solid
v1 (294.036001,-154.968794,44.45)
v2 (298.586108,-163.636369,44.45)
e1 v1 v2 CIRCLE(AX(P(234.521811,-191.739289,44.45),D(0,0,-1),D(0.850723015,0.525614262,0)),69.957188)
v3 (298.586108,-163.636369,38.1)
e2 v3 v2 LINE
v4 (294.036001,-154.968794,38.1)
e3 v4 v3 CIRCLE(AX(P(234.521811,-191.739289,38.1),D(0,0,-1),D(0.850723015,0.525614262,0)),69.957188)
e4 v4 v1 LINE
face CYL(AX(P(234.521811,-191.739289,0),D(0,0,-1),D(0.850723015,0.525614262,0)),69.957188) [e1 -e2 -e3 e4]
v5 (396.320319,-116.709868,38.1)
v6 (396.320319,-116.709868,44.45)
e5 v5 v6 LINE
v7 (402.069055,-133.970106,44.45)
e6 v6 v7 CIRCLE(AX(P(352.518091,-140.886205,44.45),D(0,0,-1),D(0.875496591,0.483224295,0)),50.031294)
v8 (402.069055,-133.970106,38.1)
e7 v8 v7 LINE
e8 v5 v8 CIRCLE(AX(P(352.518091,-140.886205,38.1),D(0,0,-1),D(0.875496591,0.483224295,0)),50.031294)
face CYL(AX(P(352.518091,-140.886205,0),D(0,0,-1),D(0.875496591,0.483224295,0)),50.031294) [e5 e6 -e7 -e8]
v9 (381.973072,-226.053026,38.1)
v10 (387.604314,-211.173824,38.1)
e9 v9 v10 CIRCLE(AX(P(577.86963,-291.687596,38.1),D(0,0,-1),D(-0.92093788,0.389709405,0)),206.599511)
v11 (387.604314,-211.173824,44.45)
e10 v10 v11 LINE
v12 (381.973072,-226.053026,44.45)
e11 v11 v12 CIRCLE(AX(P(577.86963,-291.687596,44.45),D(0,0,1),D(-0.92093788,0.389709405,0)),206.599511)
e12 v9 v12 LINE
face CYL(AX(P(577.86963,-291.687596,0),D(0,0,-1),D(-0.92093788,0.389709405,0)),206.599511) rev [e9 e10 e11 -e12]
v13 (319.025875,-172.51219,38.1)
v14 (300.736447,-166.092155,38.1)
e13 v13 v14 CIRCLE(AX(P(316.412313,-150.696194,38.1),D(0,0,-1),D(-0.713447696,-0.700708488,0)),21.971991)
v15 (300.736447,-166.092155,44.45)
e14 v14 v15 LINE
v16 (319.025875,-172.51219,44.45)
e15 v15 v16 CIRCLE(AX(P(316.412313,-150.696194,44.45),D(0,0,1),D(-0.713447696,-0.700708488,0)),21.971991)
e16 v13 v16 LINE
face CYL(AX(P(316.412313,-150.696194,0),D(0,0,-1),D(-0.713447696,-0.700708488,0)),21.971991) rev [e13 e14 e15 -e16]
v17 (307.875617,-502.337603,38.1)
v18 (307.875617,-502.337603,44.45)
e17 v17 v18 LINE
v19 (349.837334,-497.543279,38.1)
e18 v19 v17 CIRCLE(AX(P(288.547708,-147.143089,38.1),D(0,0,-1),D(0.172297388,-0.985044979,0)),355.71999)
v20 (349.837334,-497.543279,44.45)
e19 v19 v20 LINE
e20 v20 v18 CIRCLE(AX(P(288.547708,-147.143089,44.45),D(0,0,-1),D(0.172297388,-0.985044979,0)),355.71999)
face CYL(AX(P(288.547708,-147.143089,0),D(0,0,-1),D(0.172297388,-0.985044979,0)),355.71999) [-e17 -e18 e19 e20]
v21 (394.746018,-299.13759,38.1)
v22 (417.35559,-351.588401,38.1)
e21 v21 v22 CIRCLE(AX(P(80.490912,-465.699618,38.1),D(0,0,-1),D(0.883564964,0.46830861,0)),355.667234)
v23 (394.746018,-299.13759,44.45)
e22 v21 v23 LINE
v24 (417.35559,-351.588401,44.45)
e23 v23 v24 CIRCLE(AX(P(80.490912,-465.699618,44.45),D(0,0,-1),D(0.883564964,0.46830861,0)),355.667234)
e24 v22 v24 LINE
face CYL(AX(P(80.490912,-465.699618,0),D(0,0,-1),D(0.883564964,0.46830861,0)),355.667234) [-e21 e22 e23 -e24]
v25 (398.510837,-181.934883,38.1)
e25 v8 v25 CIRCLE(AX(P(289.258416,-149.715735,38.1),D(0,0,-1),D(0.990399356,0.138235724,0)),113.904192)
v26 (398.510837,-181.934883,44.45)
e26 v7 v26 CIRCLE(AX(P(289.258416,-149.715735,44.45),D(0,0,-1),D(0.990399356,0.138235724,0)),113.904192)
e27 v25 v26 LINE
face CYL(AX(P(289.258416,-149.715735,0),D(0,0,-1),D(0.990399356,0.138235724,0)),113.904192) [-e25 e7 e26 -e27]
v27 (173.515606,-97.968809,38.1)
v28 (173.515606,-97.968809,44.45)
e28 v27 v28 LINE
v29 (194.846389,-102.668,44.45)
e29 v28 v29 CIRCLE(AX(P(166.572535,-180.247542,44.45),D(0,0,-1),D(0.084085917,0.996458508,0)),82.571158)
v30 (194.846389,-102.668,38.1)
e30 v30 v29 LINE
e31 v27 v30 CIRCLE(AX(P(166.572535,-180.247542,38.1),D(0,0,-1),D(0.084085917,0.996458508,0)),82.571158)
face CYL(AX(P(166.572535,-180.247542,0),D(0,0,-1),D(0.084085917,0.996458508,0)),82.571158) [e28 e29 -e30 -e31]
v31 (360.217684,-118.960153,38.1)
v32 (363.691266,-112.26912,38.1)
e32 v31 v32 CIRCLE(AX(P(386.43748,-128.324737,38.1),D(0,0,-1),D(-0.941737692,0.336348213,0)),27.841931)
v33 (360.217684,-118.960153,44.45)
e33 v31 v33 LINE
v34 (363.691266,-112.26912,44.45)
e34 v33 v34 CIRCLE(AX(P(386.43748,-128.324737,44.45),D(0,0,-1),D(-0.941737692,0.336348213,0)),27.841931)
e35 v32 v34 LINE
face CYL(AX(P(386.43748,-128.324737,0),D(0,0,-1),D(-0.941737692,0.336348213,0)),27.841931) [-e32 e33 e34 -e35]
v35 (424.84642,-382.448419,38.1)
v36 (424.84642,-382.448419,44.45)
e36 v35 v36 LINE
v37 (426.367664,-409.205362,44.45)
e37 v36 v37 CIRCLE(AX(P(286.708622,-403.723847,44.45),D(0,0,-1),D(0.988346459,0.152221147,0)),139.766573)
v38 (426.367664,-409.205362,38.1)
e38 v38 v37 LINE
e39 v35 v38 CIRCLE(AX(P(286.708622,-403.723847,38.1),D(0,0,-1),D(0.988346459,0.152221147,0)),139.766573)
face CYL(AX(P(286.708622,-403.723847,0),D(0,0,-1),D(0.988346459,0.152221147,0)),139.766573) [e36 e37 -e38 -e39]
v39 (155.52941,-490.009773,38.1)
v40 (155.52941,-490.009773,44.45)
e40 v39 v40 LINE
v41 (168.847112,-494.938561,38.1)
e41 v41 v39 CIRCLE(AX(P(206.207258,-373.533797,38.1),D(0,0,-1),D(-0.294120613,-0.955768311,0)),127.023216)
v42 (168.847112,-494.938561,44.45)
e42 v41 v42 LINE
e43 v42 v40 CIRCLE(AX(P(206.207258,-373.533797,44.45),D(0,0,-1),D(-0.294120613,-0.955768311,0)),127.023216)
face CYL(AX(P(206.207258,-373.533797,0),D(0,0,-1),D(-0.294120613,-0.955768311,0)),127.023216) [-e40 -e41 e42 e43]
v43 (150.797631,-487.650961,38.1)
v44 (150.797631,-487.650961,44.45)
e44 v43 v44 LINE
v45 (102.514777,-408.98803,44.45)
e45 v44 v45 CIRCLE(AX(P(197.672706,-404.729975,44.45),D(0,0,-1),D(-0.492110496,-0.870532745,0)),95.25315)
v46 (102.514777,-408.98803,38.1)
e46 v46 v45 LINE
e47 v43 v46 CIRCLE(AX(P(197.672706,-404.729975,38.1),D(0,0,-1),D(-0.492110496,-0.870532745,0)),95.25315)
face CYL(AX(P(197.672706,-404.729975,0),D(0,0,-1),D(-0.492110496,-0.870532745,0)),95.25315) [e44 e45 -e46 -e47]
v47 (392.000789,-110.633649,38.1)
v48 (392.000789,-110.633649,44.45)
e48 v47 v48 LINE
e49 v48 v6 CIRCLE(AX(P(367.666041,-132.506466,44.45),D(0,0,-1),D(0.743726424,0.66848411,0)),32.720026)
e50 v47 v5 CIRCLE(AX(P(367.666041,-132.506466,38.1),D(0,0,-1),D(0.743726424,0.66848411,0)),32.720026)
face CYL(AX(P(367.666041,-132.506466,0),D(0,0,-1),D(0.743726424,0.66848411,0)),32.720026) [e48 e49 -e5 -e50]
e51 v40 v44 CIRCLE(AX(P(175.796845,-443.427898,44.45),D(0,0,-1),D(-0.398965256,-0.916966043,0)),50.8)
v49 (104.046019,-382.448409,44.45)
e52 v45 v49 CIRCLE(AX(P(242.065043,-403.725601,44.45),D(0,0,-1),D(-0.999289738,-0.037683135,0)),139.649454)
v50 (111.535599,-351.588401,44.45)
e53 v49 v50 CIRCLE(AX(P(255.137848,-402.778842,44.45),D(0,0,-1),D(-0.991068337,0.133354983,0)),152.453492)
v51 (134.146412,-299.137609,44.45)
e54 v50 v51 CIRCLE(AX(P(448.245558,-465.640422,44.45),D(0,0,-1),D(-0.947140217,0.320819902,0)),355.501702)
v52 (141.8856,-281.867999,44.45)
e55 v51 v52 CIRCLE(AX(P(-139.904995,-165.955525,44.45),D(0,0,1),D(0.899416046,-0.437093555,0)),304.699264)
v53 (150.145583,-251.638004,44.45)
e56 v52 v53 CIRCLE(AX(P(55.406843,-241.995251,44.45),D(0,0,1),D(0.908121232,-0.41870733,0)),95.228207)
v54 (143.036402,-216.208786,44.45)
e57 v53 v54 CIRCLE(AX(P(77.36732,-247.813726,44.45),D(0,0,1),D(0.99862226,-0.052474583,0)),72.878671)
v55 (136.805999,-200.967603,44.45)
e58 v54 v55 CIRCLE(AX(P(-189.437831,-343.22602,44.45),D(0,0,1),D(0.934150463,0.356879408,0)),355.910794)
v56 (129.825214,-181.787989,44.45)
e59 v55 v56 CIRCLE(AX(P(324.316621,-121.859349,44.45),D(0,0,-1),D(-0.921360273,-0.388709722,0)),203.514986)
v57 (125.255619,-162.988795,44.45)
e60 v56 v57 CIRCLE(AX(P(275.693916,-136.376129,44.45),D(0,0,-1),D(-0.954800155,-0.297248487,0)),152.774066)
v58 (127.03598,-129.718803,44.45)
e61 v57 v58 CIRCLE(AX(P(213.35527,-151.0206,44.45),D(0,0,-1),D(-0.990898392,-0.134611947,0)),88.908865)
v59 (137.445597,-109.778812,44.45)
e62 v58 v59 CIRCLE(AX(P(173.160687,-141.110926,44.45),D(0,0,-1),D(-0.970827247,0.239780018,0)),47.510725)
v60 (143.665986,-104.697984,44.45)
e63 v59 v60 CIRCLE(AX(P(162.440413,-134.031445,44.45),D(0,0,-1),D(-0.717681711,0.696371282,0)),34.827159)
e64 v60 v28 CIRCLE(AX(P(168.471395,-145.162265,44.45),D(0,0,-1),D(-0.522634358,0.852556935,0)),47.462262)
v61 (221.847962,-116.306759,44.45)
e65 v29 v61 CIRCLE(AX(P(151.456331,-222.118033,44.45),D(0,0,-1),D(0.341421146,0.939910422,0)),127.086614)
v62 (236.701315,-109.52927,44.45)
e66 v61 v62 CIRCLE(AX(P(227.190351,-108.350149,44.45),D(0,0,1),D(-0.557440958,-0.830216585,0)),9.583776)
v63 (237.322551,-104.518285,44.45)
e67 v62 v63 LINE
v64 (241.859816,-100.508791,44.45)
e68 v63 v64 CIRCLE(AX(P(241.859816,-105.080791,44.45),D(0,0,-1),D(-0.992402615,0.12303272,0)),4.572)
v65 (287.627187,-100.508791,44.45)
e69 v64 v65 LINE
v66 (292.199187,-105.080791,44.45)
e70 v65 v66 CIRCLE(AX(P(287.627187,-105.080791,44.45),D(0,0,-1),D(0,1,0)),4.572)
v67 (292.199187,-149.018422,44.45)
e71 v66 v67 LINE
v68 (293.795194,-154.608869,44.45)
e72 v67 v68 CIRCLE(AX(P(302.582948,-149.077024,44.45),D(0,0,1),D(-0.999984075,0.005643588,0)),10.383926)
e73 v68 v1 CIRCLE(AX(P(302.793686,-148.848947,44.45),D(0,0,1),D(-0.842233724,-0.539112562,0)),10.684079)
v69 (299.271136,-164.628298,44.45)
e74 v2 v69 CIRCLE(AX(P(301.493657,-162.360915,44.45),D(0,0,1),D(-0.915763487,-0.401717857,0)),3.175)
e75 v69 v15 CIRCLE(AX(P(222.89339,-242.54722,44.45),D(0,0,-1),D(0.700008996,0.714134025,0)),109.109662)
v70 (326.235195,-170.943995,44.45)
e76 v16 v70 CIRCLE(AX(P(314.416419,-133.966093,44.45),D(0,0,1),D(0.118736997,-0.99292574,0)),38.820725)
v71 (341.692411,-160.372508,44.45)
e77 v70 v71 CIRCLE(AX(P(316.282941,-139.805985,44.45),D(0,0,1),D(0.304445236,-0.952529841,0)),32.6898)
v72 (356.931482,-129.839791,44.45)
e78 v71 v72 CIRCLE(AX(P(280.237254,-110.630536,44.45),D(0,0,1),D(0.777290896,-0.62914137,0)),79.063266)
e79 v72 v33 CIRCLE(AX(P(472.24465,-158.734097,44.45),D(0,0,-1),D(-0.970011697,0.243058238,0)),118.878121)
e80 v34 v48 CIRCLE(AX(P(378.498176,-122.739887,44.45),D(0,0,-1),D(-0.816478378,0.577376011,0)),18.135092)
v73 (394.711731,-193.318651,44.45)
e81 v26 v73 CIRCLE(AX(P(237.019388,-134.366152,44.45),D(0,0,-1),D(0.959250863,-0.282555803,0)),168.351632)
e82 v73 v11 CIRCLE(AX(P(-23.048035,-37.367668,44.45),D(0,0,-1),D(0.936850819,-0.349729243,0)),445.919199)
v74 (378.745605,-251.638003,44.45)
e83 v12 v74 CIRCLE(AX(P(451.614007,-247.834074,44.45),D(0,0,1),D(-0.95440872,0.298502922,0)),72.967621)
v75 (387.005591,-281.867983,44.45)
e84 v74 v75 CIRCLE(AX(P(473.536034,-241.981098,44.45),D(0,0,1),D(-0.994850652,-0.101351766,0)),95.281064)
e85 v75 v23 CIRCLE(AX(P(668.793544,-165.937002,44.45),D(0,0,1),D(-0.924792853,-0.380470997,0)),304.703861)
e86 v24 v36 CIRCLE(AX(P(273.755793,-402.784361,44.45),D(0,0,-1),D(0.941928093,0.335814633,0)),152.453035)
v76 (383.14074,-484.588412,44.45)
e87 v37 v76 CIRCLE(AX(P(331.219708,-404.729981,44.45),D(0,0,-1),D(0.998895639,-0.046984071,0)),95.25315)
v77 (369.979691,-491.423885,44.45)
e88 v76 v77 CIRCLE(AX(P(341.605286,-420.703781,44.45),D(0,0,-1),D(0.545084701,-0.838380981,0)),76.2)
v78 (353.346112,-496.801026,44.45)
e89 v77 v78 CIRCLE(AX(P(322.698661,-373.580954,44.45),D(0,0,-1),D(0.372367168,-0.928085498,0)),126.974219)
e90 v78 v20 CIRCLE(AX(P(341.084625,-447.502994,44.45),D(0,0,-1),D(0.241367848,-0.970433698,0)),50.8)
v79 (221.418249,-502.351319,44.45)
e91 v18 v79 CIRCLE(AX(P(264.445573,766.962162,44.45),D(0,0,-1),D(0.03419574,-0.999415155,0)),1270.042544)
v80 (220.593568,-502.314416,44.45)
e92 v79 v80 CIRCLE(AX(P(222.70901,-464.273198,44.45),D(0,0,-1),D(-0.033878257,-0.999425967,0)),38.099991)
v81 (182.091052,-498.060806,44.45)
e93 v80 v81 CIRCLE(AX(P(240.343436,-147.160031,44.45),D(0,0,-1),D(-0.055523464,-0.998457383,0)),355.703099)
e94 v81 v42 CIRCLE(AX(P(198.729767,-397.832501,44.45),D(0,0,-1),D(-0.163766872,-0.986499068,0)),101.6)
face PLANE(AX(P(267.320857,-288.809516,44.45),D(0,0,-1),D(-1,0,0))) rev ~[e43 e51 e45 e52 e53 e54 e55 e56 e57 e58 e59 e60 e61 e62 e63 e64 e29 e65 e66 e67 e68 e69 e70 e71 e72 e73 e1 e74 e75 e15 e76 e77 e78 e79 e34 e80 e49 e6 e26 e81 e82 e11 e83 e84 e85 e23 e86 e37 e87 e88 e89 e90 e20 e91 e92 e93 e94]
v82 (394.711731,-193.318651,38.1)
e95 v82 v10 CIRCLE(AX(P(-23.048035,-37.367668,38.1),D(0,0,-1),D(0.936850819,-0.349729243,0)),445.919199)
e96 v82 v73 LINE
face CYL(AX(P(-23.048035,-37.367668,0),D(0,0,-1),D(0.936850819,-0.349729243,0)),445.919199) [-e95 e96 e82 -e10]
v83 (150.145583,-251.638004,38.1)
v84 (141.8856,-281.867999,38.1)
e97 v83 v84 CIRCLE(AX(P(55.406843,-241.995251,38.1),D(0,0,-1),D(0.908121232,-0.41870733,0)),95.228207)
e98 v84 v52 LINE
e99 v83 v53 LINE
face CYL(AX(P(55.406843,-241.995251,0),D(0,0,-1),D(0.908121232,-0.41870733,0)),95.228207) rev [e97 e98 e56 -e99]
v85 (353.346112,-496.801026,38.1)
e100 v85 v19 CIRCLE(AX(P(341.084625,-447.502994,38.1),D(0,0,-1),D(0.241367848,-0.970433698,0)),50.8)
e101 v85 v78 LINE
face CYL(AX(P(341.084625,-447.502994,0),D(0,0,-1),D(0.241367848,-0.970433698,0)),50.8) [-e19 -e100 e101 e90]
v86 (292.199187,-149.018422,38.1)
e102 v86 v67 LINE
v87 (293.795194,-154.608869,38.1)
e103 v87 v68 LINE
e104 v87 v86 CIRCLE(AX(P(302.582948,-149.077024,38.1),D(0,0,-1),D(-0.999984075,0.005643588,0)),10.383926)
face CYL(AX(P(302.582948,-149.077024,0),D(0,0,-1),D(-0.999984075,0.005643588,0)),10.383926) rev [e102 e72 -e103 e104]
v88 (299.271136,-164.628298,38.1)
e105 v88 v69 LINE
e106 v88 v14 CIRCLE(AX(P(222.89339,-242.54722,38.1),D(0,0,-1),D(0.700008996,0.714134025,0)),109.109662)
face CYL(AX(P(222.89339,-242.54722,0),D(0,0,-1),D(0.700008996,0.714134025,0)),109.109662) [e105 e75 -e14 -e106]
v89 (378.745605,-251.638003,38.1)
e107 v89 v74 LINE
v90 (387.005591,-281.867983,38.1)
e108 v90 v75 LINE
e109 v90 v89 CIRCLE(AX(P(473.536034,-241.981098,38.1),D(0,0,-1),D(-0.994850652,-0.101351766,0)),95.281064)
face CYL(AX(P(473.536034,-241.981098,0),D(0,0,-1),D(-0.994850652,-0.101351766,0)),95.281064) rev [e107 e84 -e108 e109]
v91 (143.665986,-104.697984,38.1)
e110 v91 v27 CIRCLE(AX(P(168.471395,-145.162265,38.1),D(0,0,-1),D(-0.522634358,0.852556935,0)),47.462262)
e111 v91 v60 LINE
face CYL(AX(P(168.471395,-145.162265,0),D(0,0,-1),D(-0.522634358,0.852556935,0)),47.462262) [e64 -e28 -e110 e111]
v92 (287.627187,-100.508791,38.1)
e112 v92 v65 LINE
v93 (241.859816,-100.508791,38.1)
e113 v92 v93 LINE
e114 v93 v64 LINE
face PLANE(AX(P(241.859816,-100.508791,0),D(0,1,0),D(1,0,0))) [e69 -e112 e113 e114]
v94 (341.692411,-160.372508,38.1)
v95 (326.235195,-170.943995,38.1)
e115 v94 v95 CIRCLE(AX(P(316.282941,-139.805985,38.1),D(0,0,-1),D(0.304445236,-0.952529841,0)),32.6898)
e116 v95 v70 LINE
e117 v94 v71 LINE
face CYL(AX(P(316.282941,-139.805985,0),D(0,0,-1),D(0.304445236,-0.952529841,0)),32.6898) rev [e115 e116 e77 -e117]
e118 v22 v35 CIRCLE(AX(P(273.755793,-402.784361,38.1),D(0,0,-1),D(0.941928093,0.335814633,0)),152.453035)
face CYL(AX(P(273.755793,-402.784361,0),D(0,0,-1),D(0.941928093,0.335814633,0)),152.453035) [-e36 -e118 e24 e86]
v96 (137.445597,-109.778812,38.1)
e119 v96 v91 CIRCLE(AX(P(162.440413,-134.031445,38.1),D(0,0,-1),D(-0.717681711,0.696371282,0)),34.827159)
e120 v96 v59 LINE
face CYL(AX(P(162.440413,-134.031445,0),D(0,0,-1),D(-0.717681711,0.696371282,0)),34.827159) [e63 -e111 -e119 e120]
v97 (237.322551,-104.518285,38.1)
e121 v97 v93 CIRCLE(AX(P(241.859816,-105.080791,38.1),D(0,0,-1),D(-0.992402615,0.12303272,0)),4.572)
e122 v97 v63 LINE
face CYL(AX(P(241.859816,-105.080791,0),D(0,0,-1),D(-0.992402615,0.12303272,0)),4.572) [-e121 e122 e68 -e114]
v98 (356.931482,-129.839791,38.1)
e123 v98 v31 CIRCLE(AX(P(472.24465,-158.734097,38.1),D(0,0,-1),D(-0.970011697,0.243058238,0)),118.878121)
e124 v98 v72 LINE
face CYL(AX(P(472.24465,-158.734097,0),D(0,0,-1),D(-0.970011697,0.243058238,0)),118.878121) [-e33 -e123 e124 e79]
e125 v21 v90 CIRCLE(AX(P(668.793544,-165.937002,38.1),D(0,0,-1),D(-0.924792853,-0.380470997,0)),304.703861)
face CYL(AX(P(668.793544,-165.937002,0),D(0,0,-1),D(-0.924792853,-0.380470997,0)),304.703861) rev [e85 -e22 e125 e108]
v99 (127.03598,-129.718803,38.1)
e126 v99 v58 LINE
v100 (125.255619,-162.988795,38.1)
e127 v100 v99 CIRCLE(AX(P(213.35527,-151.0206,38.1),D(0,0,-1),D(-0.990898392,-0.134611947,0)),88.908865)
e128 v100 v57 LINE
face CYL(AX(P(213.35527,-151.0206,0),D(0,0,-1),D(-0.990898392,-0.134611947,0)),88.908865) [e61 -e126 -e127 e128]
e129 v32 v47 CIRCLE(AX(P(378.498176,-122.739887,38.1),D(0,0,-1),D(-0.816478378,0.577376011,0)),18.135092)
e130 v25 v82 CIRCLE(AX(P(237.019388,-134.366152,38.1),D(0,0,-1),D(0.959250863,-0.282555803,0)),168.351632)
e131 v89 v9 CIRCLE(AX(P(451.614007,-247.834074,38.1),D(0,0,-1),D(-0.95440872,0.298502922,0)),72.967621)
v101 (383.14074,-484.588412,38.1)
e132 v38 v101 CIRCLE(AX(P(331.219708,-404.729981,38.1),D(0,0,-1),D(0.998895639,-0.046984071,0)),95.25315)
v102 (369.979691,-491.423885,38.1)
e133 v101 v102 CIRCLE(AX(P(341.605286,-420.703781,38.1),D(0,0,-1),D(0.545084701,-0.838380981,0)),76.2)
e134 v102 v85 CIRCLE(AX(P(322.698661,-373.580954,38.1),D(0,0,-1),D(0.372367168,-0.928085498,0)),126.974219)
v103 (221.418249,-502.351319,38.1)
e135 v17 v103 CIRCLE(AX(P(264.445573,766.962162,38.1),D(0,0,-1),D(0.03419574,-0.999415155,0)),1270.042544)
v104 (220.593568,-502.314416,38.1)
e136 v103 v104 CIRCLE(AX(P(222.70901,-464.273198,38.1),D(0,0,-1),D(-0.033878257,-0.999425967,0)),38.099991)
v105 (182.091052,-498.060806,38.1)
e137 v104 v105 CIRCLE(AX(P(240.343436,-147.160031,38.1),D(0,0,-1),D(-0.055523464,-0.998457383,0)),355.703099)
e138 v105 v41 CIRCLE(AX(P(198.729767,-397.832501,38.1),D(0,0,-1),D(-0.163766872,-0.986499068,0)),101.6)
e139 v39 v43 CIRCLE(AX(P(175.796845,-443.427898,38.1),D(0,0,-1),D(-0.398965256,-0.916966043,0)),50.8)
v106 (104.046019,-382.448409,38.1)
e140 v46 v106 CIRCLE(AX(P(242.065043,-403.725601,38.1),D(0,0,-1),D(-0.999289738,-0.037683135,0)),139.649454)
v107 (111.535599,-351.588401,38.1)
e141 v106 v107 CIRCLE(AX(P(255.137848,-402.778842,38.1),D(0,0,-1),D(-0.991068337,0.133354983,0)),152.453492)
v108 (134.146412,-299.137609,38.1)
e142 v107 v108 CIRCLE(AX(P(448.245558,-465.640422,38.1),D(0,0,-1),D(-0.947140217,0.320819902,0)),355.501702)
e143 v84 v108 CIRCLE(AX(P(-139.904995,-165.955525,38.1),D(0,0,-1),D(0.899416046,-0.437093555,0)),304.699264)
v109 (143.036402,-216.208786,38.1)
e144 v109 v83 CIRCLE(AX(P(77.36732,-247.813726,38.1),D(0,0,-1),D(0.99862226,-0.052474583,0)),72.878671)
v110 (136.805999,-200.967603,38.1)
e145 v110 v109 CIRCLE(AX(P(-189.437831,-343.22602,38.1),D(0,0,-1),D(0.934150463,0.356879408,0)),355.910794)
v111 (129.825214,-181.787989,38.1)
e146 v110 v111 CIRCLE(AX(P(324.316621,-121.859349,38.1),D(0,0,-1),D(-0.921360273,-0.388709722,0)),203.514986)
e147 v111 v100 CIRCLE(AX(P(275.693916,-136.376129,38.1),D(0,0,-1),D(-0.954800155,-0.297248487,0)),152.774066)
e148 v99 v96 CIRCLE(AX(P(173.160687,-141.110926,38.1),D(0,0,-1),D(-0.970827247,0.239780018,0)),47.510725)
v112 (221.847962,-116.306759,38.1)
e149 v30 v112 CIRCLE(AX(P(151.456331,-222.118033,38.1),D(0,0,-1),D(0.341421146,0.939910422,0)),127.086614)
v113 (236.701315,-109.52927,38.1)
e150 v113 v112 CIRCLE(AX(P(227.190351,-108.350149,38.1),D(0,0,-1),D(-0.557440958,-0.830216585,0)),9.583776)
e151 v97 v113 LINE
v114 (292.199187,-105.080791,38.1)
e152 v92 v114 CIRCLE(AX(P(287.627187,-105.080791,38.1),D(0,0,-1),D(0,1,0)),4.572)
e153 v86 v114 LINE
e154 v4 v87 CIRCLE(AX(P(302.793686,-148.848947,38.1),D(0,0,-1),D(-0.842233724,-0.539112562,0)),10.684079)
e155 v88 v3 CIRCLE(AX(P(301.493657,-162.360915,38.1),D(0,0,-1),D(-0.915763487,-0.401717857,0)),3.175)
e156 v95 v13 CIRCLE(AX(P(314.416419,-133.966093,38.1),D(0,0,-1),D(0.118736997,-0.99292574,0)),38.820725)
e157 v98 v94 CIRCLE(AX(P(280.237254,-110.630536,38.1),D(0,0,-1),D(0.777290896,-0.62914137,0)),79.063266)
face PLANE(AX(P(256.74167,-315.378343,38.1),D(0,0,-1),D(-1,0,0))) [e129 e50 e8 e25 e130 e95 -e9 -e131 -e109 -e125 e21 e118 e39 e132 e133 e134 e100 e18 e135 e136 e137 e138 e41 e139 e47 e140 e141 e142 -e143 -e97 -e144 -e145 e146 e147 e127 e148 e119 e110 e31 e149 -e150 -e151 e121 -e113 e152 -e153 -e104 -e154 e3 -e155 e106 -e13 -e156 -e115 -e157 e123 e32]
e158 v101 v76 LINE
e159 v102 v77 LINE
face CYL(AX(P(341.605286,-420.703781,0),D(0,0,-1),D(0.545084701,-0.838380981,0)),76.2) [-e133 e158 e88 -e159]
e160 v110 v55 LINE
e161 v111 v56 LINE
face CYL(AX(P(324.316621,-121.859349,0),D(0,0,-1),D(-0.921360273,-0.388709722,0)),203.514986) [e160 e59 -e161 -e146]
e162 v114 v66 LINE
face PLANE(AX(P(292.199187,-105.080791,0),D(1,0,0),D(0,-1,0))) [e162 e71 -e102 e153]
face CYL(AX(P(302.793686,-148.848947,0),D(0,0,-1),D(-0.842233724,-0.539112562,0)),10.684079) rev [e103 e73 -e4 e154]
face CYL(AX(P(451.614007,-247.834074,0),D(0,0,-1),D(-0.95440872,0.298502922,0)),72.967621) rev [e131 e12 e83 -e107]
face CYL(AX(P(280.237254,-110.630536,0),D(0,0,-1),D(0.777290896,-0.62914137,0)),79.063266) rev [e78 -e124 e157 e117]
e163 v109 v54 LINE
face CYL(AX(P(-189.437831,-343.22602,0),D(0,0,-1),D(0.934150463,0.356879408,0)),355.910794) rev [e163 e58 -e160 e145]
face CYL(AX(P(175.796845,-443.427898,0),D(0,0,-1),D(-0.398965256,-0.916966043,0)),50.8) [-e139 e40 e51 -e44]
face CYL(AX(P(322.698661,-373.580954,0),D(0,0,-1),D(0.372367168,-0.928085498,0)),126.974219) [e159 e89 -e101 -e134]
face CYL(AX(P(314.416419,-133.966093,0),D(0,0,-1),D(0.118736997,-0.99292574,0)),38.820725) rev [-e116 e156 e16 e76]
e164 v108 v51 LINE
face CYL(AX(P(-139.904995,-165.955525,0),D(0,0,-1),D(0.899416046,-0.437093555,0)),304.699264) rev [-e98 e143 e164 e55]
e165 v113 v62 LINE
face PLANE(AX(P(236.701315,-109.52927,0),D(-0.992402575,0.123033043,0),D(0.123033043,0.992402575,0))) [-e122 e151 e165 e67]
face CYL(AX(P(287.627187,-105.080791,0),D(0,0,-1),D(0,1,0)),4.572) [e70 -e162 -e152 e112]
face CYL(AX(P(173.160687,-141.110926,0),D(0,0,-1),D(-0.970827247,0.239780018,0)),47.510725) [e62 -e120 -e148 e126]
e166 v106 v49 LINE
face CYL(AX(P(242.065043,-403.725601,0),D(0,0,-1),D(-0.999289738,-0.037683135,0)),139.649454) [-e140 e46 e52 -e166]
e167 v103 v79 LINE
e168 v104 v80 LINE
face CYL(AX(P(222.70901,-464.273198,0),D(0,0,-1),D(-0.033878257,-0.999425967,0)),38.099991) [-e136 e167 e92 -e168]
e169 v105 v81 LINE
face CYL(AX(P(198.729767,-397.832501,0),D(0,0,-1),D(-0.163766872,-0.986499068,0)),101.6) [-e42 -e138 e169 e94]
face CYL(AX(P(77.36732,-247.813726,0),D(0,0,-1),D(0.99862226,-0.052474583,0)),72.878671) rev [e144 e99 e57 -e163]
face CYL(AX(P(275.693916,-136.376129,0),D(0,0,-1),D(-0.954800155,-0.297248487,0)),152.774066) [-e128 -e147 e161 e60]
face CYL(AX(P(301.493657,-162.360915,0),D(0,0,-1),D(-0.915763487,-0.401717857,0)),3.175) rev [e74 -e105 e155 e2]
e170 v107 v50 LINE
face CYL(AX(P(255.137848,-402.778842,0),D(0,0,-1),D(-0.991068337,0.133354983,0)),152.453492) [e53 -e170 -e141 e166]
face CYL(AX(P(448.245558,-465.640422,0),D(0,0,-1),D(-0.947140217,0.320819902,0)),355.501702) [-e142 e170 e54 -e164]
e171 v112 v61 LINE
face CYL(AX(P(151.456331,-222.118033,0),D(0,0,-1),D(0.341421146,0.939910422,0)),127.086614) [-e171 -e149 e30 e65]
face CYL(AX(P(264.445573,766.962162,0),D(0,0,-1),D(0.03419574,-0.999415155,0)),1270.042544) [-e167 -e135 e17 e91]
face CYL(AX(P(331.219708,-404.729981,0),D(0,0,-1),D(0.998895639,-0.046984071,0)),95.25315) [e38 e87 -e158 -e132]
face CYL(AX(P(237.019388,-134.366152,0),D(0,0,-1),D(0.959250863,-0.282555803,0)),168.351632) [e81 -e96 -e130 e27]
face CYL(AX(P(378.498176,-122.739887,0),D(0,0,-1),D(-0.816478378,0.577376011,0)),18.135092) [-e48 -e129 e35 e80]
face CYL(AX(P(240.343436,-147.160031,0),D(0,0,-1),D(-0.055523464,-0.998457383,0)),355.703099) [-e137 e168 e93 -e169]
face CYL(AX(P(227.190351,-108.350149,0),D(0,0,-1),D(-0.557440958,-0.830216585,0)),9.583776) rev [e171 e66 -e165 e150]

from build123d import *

# Parameters (mm, degrees)
EXTRUDE1_DEPTH     = 44.45
SKETCH8_W          = 820.295635457
SKETCH8_H          = 609.826953774
CUT_EXTRUDE1_DEPTH = 38.1


with BuildPart() as part:
    # Sketch2 → Extrude1 (new body)
    with BuildSketch(Plane.XY):
        with BuildLine():
            Line((236.701314765, -109.52926958), (237.322551245, -104.518285004))
            ThreePointArc((237.322551245, -104.518285004), (238.832324595, -101.654790046), (241.859816, -100.5087906))
            Line((241.859816, -100.5087906), (287.627187, -100.5087906))
            ThreePointArc((287.627187, -100.5087906), (290.860079204, -101.847898396), (292.199187, -105.0807906))
            Line((292.199187, -105.0807906), (292.199187, -149.0184218))
            ThreePointArc((292.199187, -149.0184218), (292.597958053, -151.927621282), (293.795193618, -154.608868562))
            ThreePointArc((293.795193618, -154.608868562), (293.913773723, -154.790051229), (294.036001367, -154.968793512))
            ThreePointArc((294.036001367, -154.968793512), (296.462850079, -159.222895043), (298.58610753, -163.636368995))
            ThreePointArc((298.58610753, -163.636368995), (298.881112709, -164.165143005), (299.271135507, -164.628297651))
            ThreePointArc((299.271135507, -164.628297651), (300.007264707, -165.356749106), (300.73644663, -166.092154739))
            ThreePointArc((300.73644663, -166.092154739), (309.134939866, -171.428010927), (319.025875401, -172.512189948))
            ThreePointArc((319.025875401, -172.512189948), (322.667874381, -171.899747758), (326.235195219, -170.94399463))
            ThreePointArc((326.235195219, -170.94399463), (334.736991182, -166.788776714), (341.69241097, -160.372507853))
            ThreePointArc((341.69241097, -160.372507853), (350.978860141, -145.938116384), (356.931481894, -129.839790708))
            ThreePointArc((356.931481894, -129.839790708), (358.444492908, -124.360678247), (360.217684146, -118.960153409))
            ThreePointArc((360.217684146, -118.960153409), (361.726955491, -115.496522091), (363.691265694, -112.269119525))
            ThreePointArc((363.691265694, -112.269119525), (377.452236791, -104.634981944), (392.000789341, -110.63364853))
            ThreePointArc((392.000789341, -110.63364853), (394.334174265, -113.548333419), (396.320318679, -116.709868421))
            ThreePointArc((396.320318679, -116.709868421), (399.985801408, -125.076496738), (402.069054575, -133.970106202))
            ThreePointArc((402.069054575, -133.970106202), (402.850473596, -158.142444635), (398.510836922, -181.934882814))
            ThreePointArc((398.510836922, -181.934882814), (396.712752953, -187.660630305), (394.711731045, -193.318651304))
            ThreePointArc((394.711731045, -193.318651304), (391.254221541, -202.284530505), (387.604313736, -211.173823775))
            ThreePointArc((387.604313736, -211.173823775), (384.645418623, -218.559200445), (381.97307243, -226.053025547))
            ThreePointArc((381.97307243, -226.053025547), (379.220115758, -238.701804496), (378.745605361, -251.638002516))
            ThreePointArc((378.745605361, -251.638002516), (381.624241727, -267.094911335), (387.005590994, -281.867983379))
            ThreePointArc((387.005590994, -281.867983379), (390.741696955, -290.562895178), (394.746018404, -299.137589848))
            ThreePointArc((394.746018404, -299.137589848), (407.105387056, -324.908404556), (417.355590006, -351.588401252))
            ThreePointArc((417.355590006, -351.588401252), (421.906718125, -366.822834456), (424.846419648, -382.448418515))
            ThreePointArc((424.846419648, -382.448418515), (426.249850723, -395.79034395), (426.367663828, -409.205362144))
            ThreePointArc((426.367663828, -409.205362144), (413.851256788, -452.11341389), (383.140740026, -484.58841212))
            ThreePointArc((383.140740026, -484.58841212), (376.726903694, -488.327090669), (369.979691238, -491.423885444))
            ThreePointArc((369.979691238, -491.423885444), (361.755548517, -494.399048058), (353.346112162, -496.801025635))
            ThreePointArc((353.346112162, -496.801025635), (351.598275163, -497.203126282), (349.837333504, -497.543278577))
            ThreePointArc((349.837333504, -497.543278577), (328.927692137, -500.563756073), (307.875617353, -502.337603226))
            ThreePointArc((307.875617353, -502.337603226), (264.647049723, -503.080365686), (221.41824861, -502.351318606))
            ThreePointArc((221.41824861, -502.351318606), (221.00580821, -502.335100706), (220.593567708, -502.314415619))
            ThreePointArc((220.593567708, -502.314415619), (201.284363819, -500.712124888), (182.091052494, -498.06080619))
            ThreePointArc((182.091052494, -498.06080619), (175.416754512, -496.721648206), (168.847112314, -494.938561263))
            ThreePointArc((168.847112314, -494.938561263), (162.119330737, -492.66041844), (155.529409804, -490.009772905))
            ThreePointArc((155.529409804, -490.009772905), (153.132812394, -488.891967619), (150.797631292, -487.650961163))
            ThreePointArc((150.797631292, -487.650961163), (116.491995751, -454.558228352), (102.514776867, -408.988030339))
            ThreePointArc((102.514776867, -408.988030339), (102.647448667, -395.681700976), (104.046018753, -382.448409448))
            ThreePointArc((104.046018753, -382.448409448), (106.98510575, -366.822864688), (111.535598588, -351.588400588))
            ThreePointArc((111.535598588, -351.588400588), (121.785921274, -324.908172846), (134.146411655, -299.137609307))
            ThreePointArc((134.146411655, -299.137609307), (138.150111982, -290.562902597), (141.885599861, -281.867999389))
            ThreePointArc((141.885599861, -281.867999389), (147.267652973, -267.095112393), (150.145582523, -251.638003757))
            ThreePointArc((150.145582523, -251.638003757), (148.821670426, -233.475790137), (143.036402463, -216.208786303))
            ThreePointArc((143.036402463, -216.208786303), (140.009349985, -208.5521602), (136.805998568, -200.967602883))
            ThreePointArc((136.805998568, -200.967602883), (133.075014503, -191.465363775), (129.82521382, -181.787988837))
            ThreePointArc((129.82521382, -181.787988837), (127.242537041, -172.460798588), (125.255618654, -162.988794966))
            ThreePointArc((125.255618654, -162.988794966), (124.573431659, -146.269657735), (127.035980496, -129.718803313))
            ThreePointArc((127.035980496, -129.718803313), (131.043720455, -119.123881134), (137.44559748, -109.77881152))
            ThreePointArc((137.44559748, -109.77881152), (140.408836969, -107.058482812), (143.665986338, -104.697984023))
            ThreePointArc((143.665986338, -104.697984023), (158.033642326, -98.861944673), (173.515606109, -97.968809036))
            ThreePointArc((173.515606109, -97.968809036), (184.337065562, -99.609972723), (194.84638863, -102.668000127))
            ThreePointArc((194.84638863, -102.668000127), (208.754429598, -108.681110615), (221.847962027, -116.306758775))
            ThreePointArc((221.847962027, -116.306758775), (231.168773326, -117.069146469), (236.701314765, -109.52926958))
        make_face()
    extrude(amount=EXTRUDE1_DEPTH)

    # Sketch8 → Cut-Extrude1 (cut)
    with BuildSketch(Plane(origin=(0, 0, 0), x_dir=(-1, 0, 0), z_dir=(0, 0, -1))):
        with Locations((-256.741670113, -315.378342919)):
            Rectangle(SKETCH8_W, SKETCH8_H)
    extrude(amount=-CUT_EXTRUDE1_DEPTH, mode=Mode.SUBTRACT)


solid = part.part
